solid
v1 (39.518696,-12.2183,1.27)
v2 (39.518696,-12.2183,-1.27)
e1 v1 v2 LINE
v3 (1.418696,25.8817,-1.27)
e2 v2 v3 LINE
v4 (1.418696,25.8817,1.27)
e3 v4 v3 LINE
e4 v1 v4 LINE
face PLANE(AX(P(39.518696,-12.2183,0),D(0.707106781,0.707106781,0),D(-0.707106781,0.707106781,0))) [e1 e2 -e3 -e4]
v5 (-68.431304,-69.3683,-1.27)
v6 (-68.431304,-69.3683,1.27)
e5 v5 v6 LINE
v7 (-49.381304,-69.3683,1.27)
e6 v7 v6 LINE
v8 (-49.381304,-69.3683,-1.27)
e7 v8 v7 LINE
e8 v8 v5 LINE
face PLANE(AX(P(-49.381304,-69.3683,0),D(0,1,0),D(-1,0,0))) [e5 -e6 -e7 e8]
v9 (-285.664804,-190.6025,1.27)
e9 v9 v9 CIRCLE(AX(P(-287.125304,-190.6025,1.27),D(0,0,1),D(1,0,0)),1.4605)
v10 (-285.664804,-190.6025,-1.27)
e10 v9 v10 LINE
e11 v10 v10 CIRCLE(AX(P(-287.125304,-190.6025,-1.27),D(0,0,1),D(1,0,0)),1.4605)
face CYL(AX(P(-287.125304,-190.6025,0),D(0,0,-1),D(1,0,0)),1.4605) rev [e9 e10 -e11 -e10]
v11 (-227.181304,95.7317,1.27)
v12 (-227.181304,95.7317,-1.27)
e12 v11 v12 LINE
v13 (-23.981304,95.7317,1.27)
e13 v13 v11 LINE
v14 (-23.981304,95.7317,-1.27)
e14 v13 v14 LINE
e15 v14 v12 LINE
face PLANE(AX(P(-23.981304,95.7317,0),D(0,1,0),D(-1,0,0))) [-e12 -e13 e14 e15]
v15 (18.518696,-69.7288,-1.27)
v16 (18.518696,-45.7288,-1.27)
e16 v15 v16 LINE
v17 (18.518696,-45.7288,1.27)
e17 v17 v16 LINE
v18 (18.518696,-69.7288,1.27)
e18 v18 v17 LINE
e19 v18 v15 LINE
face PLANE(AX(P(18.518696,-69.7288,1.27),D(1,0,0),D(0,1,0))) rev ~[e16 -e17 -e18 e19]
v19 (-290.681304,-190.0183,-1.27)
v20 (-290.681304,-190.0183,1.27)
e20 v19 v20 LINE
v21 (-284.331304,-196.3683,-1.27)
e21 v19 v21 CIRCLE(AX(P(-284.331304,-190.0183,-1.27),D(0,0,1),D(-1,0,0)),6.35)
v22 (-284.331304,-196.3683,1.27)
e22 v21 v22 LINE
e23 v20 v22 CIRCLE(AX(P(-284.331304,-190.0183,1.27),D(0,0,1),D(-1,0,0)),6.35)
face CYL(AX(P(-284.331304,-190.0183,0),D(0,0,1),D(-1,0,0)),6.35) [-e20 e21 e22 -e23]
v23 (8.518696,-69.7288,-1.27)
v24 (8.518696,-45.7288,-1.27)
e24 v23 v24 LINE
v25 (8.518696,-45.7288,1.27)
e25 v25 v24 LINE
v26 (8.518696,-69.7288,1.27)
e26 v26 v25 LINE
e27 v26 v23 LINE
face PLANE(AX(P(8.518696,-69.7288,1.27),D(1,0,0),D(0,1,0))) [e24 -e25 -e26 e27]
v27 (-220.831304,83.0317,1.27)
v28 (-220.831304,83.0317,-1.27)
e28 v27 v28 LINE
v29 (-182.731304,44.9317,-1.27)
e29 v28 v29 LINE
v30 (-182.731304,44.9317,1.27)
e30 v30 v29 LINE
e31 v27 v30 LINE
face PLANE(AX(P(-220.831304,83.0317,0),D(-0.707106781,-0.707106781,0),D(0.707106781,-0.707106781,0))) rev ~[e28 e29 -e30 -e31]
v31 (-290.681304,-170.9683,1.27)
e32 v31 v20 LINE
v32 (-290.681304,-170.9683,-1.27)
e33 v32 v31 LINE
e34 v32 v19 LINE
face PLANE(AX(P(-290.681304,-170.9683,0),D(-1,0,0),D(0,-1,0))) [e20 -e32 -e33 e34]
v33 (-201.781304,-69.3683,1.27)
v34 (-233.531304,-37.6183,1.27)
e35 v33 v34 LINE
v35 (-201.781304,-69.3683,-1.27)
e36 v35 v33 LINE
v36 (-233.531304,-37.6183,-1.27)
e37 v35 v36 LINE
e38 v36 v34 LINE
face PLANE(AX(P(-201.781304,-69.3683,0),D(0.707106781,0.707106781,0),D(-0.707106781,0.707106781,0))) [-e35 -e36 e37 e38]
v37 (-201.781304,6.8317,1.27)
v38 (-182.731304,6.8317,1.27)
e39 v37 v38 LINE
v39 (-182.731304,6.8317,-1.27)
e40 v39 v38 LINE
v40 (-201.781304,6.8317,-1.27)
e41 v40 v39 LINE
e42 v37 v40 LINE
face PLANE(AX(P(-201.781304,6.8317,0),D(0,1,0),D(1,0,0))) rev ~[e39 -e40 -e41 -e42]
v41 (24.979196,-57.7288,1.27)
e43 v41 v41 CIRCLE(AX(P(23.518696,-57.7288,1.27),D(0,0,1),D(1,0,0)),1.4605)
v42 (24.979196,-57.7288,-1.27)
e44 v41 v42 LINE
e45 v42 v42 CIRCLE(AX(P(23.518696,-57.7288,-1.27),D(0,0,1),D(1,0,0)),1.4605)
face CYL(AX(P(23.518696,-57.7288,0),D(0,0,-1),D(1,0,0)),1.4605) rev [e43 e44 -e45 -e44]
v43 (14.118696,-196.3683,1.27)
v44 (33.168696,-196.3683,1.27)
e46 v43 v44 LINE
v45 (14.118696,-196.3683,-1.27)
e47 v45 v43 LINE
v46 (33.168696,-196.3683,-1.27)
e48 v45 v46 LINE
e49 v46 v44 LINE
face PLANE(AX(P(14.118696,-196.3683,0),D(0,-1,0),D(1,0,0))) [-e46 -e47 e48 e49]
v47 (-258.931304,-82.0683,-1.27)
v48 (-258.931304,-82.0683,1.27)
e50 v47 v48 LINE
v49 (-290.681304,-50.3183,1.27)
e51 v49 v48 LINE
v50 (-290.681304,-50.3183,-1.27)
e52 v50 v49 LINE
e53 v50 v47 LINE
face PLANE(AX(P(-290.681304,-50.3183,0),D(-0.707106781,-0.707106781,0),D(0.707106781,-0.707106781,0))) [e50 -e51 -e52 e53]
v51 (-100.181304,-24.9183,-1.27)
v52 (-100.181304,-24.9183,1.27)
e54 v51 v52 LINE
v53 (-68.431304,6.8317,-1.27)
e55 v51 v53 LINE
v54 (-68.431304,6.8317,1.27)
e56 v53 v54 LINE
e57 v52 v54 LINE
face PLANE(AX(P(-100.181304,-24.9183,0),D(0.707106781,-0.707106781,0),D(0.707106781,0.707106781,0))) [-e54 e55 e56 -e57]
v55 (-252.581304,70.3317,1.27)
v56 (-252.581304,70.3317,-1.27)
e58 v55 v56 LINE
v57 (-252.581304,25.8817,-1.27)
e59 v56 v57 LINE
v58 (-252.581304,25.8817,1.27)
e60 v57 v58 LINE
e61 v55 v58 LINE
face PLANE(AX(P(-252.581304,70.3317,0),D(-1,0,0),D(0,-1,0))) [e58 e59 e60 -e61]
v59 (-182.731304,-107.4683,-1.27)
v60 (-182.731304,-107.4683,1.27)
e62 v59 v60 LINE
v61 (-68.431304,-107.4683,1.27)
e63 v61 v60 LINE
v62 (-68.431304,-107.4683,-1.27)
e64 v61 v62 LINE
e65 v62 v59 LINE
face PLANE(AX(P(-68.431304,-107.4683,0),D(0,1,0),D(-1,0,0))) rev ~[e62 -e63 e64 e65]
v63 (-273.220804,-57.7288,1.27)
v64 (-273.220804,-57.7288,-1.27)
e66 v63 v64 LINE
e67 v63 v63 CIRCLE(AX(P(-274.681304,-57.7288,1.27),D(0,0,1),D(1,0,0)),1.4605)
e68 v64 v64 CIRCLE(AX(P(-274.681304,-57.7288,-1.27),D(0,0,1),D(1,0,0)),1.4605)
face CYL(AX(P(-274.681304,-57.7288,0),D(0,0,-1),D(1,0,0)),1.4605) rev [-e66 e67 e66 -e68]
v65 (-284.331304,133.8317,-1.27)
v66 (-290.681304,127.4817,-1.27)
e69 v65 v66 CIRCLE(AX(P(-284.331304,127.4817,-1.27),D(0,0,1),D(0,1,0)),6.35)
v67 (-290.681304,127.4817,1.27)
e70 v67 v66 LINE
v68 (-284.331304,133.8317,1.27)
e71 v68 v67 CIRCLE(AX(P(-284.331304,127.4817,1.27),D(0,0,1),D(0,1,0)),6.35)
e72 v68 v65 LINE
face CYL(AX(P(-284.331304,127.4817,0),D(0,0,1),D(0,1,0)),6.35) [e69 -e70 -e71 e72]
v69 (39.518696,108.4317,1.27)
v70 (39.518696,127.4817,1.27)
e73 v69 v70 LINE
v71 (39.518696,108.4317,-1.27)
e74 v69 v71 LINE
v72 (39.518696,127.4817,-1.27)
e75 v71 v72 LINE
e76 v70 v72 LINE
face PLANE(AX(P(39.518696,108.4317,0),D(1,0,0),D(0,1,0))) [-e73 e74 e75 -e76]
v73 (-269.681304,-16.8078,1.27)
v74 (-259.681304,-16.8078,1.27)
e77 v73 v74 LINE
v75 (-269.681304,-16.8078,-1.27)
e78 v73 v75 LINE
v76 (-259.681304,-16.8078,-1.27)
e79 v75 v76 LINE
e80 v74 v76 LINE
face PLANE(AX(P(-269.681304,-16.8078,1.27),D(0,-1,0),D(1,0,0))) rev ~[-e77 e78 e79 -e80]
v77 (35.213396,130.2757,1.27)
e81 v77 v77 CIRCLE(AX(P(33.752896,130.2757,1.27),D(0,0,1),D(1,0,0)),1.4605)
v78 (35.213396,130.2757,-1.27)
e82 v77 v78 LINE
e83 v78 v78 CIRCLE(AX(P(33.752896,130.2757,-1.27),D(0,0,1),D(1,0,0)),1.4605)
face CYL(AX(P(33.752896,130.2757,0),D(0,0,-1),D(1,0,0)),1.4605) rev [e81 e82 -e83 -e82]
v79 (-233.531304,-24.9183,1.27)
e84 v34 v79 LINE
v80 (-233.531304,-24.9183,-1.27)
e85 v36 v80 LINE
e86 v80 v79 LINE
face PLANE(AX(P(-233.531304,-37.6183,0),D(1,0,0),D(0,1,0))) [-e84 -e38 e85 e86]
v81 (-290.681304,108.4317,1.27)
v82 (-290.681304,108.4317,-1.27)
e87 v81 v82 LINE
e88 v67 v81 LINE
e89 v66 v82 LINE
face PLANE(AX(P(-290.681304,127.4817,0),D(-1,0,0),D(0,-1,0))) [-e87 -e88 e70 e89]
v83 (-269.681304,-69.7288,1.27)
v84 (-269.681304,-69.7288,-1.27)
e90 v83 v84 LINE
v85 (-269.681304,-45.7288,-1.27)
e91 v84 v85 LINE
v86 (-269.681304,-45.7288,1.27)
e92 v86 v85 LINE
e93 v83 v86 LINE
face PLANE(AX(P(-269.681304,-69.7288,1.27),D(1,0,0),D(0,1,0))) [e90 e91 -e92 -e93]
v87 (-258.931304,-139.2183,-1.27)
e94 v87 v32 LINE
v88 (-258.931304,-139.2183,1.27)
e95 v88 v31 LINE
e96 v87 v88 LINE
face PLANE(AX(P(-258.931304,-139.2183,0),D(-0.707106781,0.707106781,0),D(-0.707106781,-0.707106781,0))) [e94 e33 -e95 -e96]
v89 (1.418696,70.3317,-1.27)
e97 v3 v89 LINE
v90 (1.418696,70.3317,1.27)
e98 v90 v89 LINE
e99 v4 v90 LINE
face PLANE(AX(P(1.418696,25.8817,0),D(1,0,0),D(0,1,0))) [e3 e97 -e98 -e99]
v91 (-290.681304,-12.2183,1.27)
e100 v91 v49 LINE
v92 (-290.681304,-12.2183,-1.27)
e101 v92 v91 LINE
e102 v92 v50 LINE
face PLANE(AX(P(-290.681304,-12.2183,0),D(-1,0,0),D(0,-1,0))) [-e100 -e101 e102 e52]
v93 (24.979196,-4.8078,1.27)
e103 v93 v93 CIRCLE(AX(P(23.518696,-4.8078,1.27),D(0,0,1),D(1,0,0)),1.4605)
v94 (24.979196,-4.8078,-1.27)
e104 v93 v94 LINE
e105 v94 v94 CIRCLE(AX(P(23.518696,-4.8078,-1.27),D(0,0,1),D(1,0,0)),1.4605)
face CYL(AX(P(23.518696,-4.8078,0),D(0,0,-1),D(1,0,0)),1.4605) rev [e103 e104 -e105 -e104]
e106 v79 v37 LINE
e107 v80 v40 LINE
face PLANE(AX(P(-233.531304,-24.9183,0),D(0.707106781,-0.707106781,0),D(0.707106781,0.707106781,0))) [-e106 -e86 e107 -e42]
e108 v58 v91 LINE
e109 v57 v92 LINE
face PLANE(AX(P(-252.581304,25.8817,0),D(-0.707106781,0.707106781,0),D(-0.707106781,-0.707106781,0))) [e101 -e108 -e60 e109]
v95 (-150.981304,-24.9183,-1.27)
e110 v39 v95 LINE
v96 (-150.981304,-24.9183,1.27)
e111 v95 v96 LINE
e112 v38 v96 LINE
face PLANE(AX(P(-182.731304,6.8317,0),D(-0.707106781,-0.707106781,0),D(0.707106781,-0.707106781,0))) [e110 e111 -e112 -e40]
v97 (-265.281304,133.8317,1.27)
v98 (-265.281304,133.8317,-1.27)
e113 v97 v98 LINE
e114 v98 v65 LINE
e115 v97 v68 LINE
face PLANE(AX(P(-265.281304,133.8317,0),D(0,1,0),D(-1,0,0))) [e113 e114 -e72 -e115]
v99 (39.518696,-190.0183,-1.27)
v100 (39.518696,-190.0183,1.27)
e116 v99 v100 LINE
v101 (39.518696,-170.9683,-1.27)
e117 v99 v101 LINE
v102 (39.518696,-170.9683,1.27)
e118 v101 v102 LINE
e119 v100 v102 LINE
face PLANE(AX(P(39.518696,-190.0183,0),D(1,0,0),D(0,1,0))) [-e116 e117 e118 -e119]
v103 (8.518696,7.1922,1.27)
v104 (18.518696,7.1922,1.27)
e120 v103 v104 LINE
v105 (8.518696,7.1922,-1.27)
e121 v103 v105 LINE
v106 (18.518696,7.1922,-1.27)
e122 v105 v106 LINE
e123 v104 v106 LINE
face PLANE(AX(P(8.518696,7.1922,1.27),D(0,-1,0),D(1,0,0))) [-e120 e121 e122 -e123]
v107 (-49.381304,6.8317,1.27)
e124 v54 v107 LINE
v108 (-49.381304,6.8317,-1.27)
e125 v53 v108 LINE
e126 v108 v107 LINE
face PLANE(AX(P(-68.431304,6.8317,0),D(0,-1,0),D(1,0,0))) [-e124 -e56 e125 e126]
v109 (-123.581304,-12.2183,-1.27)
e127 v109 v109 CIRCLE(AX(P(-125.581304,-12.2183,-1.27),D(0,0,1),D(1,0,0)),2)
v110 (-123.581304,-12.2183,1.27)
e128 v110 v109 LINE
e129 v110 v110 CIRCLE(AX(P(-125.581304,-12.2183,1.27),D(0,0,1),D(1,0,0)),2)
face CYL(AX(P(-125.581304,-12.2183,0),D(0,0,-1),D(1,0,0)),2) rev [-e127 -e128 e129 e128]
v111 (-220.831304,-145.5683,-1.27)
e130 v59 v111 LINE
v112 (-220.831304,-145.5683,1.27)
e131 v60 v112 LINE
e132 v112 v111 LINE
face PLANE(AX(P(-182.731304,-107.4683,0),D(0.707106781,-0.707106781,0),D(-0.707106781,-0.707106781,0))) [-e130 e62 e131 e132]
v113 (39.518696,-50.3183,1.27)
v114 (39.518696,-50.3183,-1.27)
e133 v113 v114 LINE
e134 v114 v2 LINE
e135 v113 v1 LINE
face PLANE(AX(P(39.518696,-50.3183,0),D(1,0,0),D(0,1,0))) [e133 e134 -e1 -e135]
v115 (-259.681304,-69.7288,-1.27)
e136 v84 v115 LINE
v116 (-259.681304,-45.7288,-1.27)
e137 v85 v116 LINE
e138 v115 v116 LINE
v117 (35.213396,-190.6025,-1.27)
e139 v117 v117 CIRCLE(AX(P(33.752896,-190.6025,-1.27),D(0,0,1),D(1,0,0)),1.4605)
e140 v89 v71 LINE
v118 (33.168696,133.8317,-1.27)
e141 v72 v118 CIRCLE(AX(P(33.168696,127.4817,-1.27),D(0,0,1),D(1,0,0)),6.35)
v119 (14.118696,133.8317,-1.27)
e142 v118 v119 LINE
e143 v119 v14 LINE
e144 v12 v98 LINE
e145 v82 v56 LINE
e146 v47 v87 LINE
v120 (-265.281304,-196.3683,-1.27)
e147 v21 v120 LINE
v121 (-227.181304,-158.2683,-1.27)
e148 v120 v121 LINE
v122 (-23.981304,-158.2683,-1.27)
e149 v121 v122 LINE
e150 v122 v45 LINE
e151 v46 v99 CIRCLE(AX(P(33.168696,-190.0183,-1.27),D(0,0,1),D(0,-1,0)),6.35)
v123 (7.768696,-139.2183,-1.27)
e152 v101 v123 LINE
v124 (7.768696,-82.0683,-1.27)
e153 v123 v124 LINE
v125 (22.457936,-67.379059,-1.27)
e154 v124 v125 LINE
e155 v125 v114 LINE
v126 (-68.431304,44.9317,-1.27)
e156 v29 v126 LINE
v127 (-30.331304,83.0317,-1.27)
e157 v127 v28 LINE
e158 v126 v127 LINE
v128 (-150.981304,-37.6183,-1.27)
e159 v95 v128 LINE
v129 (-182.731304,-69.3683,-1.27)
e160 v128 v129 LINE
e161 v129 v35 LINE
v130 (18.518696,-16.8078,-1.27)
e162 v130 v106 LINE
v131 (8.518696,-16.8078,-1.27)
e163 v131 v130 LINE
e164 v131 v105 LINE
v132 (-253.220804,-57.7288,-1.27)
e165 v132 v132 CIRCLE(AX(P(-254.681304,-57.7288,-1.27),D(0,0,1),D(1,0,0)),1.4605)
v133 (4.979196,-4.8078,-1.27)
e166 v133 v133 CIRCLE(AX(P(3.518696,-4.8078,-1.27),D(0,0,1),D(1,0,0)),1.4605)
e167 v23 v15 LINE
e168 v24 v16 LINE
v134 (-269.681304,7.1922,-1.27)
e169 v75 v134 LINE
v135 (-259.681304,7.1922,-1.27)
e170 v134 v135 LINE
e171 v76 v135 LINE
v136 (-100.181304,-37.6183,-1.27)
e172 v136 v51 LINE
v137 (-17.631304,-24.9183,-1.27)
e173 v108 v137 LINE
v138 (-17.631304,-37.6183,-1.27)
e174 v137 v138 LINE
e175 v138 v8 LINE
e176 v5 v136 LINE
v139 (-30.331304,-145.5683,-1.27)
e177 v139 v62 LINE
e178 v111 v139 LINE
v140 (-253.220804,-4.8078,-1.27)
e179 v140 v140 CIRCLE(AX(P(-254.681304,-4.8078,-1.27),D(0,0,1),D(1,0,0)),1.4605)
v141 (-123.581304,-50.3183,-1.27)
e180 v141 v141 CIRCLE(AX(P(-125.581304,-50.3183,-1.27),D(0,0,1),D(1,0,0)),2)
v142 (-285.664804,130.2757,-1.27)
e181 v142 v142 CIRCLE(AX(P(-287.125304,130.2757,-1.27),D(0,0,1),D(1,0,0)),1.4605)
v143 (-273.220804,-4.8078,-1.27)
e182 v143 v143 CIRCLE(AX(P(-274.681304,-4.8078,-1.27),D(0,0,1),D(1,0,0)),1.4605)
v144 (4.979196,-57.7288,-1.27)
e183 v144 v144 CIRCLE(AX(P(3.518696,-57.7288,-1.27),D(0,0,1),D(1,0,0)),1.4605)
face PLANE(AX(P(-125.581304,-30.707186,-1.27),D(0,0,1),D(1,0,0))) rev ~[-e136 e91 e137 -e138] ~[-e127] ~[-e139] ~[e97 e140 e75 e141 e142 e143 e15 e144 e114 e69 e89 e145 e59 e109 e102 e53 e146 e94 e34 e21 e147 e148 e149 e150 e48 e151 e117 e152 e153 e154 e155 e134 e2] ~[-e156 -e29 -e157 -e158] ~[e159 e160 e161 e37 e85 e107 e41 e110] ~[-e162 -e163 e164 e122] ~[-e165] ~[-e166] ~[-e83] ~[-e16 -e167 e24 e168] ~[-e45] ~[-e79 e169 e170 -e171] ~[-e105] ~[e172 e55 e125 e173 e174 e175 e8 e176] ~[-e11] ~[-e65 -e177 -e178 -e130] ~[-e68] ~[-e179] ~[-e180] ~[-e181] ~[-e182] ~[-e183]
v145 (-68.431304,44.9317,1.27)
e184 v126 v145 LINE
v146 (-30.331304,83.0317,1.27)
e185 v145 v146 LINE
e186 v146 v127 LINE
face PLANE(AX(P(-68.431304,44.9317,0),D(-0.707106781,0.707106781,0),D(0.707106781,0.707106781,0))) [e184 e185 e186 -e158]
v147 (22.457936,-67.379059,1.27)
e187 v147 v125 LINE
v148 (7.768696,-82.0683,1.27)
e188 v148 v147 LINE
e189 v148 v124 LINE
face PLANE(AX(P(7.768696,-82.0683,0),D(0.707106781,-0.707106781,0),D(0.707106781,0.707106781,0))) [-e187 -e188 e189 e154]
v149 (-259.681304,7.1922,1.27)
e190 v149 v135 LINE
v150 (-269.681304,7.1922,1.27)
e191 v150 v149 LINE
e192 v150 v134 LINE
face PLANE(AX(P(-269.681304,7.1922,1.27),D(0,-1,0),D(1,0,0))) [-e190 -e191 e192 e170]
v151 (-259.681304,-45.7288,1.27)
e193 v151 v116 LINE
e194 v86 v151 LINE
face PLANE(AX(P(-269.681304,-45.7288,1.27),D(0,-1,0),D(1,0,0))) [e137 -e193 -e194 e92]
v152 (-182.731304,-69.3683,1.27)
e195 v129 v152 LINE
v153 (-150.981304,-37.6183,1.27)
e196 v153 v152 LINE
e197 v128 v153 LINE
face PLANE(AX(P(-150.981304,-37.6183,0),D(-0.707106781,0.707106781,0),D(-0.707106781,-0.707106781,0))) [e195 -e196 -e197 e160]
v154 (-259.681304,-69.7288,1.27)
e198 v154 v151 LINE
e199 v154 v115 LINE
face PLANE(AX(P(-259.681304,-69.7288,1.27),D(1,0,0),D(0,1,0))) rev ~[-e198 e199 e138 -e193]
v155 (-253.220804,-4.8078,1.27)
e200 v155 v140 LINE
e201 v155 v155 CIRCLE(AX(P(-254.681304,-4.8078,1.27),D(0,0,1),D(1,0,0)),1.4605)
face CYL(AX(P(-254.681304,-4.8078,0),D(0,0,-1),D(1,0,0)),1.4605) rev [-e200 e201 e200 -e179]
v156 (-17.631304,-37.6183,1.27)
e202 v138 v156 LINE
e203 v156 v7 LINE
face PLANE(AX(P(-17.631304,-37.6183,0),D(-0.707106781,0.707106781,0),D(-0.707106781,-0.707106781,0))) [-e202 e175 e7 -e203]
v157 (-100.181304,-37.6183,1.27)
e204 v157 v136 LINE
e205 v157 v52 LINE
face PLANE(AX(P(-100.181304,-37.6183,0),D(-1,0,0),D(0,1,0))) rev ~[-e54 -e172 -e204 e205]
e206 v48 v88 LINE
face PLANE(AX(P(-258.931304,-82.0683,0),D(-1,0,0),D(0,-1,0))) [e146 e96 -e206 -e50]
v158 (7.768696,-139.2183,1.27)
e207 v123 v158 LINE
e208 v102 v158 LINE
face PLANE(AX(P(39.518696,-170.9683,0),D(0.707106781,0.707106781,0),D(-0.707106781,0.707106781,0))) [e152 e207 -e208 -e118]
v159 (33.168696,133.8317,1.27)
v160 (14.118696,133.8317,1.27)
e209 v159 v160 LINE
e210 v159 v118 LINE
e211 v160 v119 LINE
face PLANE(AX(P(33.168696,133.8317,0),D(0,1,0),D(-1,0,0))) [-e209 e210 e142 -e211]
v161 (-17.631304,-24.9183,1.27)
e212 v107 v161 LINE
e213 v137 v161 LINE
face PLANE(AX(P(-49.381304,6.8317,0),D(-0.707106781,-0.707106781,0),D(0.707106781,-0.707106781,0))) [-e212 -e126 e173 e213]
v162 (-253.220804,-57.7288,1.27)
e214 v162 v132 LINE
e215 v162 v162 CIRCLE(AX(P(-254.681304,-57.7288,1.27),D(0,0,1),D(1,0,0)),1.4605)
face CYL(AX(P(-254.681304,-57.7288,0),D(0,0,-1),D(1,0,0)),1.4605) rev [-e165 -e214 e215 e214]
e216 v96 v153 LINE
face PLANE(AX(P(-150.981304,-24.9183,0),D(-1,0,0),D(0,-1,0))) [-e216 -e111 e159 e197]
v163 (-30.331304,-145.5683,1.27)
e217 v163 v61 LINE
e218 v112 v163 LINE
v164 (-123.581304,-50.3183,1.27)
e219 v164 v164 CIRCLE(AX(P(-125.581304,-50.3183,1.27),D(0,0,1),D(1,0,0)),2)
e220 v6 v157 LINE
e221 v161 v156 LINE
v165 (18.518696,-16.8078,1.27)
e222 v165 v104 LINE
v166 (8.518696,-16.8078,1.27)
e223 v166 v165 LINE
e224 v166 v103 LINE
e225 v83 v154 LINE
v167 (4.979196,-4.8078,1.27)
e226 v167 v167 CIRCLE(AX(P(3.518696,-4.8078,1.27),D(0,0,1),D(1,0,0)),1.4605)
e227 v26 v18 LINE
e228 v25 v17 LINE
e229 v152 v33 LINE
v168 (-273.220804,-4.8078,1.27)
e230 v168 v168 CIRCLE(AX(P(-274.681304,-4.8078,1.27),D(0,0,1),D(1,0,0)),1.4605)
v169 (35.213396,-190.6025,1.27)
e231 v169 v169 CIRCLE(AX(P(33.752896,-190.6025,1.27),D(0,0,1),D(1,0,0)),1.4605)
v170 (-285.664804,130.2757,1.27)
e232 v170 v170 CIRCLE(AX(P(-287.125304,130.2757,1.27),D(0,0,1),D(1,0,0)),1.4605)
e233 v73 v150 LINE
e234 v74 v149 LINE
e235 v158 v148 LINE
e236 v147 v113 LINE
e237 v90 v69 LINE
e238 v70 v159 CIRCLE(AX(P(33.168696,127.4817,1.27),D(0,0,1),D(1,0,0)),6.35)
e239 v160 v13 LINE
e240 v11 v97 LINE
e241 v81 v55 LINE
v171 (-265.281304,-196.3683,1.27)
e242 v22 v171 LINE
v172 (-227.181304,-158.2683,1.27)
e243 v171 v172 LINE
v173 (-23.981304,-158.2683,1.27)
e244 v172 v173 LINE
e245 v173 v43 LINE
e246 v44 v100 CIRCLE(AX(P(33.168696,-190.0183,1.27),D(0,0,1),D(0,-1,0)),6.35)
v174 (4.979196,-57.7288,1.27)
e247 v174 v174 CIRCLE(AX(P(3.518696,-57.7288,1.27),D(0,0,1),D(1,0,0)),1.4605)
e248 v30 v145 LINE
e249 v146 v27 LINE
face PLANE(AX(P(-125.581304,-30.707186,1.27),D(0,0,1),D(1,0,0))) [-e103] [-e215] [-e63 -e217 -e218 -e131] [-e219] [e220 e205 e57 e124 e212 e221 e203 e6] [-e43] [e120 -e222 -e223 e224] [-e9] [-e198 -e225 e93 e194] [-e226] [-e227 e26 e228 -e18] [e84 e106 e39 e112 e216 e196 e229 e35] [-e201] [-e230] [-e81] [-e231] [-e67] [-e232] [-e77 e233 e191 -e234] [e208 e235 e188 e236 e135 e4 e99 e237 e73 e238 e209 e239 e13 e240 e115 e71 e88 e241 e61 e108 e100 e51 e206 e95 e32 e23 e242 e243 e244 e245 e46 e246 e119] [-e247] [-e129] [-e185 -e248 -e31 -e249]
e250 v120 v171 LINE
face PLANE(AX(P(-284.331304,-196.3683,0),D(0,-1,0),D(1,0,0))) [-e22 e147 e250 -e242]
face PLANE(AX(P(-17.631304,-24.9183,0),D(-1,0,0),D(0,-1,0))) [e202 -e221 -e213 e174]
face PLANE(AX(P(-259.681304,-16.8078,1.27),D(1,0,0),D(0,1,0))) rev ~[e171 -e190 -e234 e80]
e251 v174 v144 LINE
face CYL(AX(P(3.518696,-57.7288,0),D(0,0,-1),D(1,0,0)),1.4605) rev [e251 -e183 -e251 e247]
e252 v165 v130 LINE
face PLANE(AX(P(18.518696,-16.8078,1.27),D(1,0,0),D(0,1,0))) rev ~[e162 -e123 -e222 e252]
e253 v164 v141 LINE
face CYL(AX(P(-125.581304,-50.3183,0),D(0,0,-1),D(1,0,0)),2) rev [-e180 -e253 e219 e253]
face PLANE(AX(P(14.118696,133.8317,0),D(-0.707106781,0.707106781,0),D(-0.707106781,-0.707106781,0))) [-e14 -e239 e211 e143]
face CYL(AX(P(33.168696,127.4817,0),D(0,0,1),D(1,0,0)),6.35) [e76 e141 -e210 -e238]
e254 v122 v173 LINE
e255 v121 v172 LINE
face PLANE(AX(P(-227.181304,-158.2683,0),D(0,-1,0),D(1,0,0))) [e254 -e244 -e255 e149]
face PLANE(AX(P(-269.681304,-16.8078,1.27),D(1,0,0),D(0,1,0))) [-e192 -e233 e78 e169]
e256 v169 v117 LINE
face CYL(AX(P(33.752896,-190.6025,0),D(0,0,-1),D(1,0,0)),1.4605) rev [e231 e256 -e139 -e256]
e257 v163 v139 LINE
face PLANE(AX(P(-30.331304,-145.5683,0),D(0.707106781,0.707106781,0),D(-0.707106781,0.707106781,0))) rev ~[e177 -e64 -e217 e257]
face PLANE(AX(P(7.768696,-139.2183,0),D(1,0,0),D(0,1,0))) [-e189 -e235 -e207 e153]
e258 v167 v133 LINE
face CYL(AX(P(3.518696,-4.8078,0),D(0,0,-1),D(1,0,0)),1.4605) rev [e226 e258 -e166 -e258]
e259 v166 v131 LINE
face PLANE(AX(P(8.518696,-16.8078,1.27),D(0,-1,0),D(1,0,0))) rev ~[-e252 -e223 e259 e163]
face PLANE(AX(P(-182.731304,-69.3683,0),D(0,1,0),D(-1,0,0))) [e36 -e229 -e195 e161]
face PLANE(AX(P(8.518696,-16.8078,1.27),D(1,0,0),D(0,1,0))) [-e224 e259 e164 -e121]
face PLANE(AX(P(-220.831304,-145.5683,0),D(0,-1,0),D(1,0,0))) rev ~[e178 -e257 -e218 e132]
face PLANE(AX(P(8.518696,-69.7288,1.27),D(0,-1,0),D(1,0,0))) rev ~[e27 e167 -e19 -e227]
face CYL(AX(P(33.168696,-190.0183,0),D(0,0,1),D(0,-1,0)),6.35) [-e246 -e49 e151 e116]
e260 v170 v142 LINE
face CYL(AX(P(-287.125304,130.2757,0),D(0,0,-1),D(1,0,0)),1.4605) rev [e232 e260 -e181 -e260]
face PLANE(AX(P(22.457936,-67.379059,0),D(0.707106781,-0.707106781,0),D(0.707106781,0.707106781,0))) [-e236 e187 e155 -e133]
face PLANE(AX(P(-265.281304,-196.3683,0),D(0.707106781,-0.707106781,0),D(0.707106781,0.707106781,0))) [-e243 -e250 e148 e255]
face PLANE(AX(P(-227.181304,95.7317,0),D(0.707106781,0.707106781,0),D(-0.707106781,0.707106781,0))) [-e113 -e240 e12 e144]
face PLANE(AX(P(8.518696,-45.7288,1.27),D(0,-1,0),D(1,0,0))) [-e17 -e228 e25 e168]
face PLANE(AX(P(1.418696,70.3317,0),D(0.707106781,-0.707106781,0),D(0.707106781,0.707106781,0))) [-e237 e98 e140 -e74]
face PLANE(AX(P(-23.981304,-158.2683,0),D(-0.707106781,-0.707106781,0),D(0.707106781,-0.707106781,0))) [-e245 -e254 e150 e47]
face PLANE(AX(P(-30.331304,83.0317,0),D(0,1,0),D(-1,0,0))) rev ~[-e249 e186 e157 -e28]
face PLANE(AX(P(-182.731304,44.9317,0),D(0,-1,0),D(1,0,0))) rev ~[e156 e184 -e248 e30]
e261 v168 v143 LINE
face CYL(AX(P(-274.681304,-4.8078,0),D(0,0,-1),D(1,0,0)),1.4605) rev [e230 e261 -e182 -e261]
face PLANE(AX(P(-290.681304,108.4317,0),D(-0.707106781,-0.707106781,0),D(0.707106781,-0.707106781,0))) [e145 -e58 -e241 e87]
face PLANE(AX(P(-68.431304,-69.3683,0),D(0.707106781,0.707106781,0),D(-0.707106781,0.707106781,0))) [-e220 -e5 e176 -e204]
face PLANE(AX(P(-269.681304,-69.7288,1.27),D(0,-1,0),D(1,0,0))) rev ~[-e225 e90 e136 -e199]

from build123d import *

# Parameters (mm, degrees)
MODEL_R             = 1.4605
MODEL_R_2           = 2
BOSS_EXTRUDE1_DEPTH = 1.27
SKETCH1_W           = 10
SKETCH1_H           = 24
CUT_EXTRUDE1_DEPTH  = 10


with BuildPart() as part:
    # Model → Boss-Extrude1 (new, symmetric)
    with BuildSketch(Plane.XY):
        with BuildLine():
            Line((-252.581304326, 70.3317), (-252.581304326, 25.8817))
            Line((-252.581304326, 25.8817), (-290.681304326, -12.2183))
            Line((-290.681304326, -12.2183), (-290.681304326, -50.3183))
            Line((-290.681304326, -50.3183), (-258.931304326, -82.0683))
            Line((-258.931304326, -82.0683), (-258.931304326, -139.2183))
            Line((-258.931304326, -139.2183), (-290.681304326, -170.9683))
            Line((-290.681304326, -170.9683), (-290.681304326, -190.0183))
            ThreePointArc((-290.681304326, -190.0183), (-288.821432386, -194.508428061), (-284.331304326, -196.3683))
            Line((-284.331304326, -196.3683), (-265.281304326, -196.3683))
            Line((-265.281304326, -196.3683), (-227.181304326, -158.2683))
            Line((-227.181304326, -158.2683), (-23.981304326, -158.2683))
            Line((-23.981304326, -158.2683), (14.118695674, -196.3683))
            Line((14.118695674, -196.3683), (33.168695674, -196.3683))
            ThreePointArc((33.168695674, -196.3683), (37.658823735, -194.508428061), (39.518695674, -190.0183))
            Line((39.518695674, -190.0183), (39.518695674, -170.9683))
            Line((39.518695674, -170.9683), (7.768695674, -139.2183))
            Line((7.768695674, -139.2183), (7.768695674, -82.0683))
            Line((7.768695674, -82.0683), (22.457936385, -67.37905929))
            Line((22.457936385, -67.37905929), (39.518695674, -50.3183))
            Line((39.518695674, -50.3183), (39.518695674, -12.2183))
            Line((39.518695674, -12.2183), (1.418695674, 25.8817))
            Line((1.418695674, 25.8817), (1.418695674, 70.3317))
            Line((1.418695674, 70.3317), (39.518695674, 108.4317))
            Line((39.518695674, 108.4317), (39.518695674, 127.4817))
            ThreePointArc((39.518695674, 127.4817), (37.658823735, 131.971828061), (33.168695674, 133.8317))
            Line((33.168695674, 133.8317), (14.118695674, 133.8317))
            Line((14.118695674, 133.8317), (-23.981304326, 95.7317))
            Line((-23.981304326, 95.7317), (-227.181304326, 95.7317))
            Line((-227.181304326, 95.7317), (-265.281304326, 133.8317))
            Line((-265.281304326, 133.8317), (-284.331304326, 133.8317))
            ThreePointArc((-284.331304326, 133.8317), (-288.821432386, 131.971828061), (-290.681304326, 127.4817))
            Line((-290.681304326, 127.4817), (-290.681304326, 108.4317))
            Line((-290.681304326, 108.4317), (-252.581304326, 70.3317))
        make_face()
        with Locations((-287.125304326, -190.6025)):
            Circle(MODEL_R, mode=Mode.SUBTRACT)
        with Locations((33.752895674, -190.6025)):
            Circle(MODEL_R, mode=Mode.SUBTRACT)
        with Locations((33.752895674, 130.2757)):
            Circle(MODEL_R, mode=Mode.SUBTRACT)
        with Locations((-287.125304326, 130.2757)):
            Circle(MODEL_R, mode=Mode.SUBTRACT)
        with Locations((-274.681304256, -57.7288)):
            Circle(MODEL_R, mode=Mode.SUBTRACT)
        with Locations((-254.681304256, -57.7288)):
            Circle(MODEL_R, mode=Mode.SUBTRACT)
        with Locations((23.518695604, -57.7288)):
            Circle(MODEL_R, mode=Mode.SUBTRACT)
        with Locations((3.518695604, -57.7288)):
            Circle(MODEL_R, mode=Mode.SUBTRACT)
        with Locations((23.518695604, -4.8078)):
            Circle(MODEL_R, mode=Mode.SUBTRACT)
        with Locations((3.518695604, -4.8078)):
            Circle(MODEL_R, mode=Mode.SUBTRACT)
        with Locations((-254.681304256, -4.8078)):
            Circle(MODEL_R, mode=Mode.SUBTRACT)
        with Locations((-274.681304256, -4.8078)):
            Circle(MODEL_R, mode=Mode.SUBTRACT)
        with Locations((-125.581304326, -12.2183)):
            Circle(MODEL_R_2, mode=Mode.SUBTRACT)
        with Locations((-125.581304326, -50.3183)):
            Circle(MODEL_R_2, mode=Mode.SUBTRACT)
        Polygon((-30.331304326, -145.5683), (-68.431304326, -107.4683), (-182.731304326, -107.4683), (-220.831304326, -145.5683), align=None, mode=Mode.SUBTRACT)
        Polygon((-220.831304326, 83.0317), (-182.731304326, 44.9317), (-68.431304326, 44.9317), (-30.331304326, 83.0317), align=None, mode=Mode.SUBTRACT)
        Polygon((-201.781304326, -69.3683), (-233.531304326, -37.6183), (-233.531304326, -24.9183), (-201.781304326, 6.8317), (-182.731304326, 6.8317), (-150.981304326, -24.9183), (-150.981304326, -37.6183), (-182.731304326, -69.3683), align=None, mode=Mode.SUBTRACT)
        Polygon((-100.181304326, -37.6183), (-100.181304326, -24.9183), (-68.431304326, 6.8317), (-49.381304326, 6.8317), (-17.631304326, -24.9183), (-17.631304326, -37.6183), (-49.381304326, -69.3683), (-68.431304326, -69.3683), align=None, mode=Mode.SUBTRACT)
    extrude(amount=BOSS_EXTRUDE1_DEPTH, both=True)

    # Sketch1 → Cut-Extrude1 (cut)
    with BuildSketch(Plane.XY.offset(1.27)):
        with Locations((-264.681304256, -57.7288)):
            Rectangle(SKETCH1_W, SKETCH1_H)
        with Locations((-264.681304256, -4.8078)):
            Rectangle(SKETCH1_W, SKETCH1_H)
        with Locations((13.518695604, -4.8078)):
            Rectangle(SKETCH1_W, SKETCH1_H)
        with Locations((13.518695604, -57.7288)):
            Rectangle(SKETCH1_W, SKETCH1_H)
    extrude(amount=-CUT_EXTRUDE1_DEPTH, mode=Mode.SUBTRACT)


solid = part.part
